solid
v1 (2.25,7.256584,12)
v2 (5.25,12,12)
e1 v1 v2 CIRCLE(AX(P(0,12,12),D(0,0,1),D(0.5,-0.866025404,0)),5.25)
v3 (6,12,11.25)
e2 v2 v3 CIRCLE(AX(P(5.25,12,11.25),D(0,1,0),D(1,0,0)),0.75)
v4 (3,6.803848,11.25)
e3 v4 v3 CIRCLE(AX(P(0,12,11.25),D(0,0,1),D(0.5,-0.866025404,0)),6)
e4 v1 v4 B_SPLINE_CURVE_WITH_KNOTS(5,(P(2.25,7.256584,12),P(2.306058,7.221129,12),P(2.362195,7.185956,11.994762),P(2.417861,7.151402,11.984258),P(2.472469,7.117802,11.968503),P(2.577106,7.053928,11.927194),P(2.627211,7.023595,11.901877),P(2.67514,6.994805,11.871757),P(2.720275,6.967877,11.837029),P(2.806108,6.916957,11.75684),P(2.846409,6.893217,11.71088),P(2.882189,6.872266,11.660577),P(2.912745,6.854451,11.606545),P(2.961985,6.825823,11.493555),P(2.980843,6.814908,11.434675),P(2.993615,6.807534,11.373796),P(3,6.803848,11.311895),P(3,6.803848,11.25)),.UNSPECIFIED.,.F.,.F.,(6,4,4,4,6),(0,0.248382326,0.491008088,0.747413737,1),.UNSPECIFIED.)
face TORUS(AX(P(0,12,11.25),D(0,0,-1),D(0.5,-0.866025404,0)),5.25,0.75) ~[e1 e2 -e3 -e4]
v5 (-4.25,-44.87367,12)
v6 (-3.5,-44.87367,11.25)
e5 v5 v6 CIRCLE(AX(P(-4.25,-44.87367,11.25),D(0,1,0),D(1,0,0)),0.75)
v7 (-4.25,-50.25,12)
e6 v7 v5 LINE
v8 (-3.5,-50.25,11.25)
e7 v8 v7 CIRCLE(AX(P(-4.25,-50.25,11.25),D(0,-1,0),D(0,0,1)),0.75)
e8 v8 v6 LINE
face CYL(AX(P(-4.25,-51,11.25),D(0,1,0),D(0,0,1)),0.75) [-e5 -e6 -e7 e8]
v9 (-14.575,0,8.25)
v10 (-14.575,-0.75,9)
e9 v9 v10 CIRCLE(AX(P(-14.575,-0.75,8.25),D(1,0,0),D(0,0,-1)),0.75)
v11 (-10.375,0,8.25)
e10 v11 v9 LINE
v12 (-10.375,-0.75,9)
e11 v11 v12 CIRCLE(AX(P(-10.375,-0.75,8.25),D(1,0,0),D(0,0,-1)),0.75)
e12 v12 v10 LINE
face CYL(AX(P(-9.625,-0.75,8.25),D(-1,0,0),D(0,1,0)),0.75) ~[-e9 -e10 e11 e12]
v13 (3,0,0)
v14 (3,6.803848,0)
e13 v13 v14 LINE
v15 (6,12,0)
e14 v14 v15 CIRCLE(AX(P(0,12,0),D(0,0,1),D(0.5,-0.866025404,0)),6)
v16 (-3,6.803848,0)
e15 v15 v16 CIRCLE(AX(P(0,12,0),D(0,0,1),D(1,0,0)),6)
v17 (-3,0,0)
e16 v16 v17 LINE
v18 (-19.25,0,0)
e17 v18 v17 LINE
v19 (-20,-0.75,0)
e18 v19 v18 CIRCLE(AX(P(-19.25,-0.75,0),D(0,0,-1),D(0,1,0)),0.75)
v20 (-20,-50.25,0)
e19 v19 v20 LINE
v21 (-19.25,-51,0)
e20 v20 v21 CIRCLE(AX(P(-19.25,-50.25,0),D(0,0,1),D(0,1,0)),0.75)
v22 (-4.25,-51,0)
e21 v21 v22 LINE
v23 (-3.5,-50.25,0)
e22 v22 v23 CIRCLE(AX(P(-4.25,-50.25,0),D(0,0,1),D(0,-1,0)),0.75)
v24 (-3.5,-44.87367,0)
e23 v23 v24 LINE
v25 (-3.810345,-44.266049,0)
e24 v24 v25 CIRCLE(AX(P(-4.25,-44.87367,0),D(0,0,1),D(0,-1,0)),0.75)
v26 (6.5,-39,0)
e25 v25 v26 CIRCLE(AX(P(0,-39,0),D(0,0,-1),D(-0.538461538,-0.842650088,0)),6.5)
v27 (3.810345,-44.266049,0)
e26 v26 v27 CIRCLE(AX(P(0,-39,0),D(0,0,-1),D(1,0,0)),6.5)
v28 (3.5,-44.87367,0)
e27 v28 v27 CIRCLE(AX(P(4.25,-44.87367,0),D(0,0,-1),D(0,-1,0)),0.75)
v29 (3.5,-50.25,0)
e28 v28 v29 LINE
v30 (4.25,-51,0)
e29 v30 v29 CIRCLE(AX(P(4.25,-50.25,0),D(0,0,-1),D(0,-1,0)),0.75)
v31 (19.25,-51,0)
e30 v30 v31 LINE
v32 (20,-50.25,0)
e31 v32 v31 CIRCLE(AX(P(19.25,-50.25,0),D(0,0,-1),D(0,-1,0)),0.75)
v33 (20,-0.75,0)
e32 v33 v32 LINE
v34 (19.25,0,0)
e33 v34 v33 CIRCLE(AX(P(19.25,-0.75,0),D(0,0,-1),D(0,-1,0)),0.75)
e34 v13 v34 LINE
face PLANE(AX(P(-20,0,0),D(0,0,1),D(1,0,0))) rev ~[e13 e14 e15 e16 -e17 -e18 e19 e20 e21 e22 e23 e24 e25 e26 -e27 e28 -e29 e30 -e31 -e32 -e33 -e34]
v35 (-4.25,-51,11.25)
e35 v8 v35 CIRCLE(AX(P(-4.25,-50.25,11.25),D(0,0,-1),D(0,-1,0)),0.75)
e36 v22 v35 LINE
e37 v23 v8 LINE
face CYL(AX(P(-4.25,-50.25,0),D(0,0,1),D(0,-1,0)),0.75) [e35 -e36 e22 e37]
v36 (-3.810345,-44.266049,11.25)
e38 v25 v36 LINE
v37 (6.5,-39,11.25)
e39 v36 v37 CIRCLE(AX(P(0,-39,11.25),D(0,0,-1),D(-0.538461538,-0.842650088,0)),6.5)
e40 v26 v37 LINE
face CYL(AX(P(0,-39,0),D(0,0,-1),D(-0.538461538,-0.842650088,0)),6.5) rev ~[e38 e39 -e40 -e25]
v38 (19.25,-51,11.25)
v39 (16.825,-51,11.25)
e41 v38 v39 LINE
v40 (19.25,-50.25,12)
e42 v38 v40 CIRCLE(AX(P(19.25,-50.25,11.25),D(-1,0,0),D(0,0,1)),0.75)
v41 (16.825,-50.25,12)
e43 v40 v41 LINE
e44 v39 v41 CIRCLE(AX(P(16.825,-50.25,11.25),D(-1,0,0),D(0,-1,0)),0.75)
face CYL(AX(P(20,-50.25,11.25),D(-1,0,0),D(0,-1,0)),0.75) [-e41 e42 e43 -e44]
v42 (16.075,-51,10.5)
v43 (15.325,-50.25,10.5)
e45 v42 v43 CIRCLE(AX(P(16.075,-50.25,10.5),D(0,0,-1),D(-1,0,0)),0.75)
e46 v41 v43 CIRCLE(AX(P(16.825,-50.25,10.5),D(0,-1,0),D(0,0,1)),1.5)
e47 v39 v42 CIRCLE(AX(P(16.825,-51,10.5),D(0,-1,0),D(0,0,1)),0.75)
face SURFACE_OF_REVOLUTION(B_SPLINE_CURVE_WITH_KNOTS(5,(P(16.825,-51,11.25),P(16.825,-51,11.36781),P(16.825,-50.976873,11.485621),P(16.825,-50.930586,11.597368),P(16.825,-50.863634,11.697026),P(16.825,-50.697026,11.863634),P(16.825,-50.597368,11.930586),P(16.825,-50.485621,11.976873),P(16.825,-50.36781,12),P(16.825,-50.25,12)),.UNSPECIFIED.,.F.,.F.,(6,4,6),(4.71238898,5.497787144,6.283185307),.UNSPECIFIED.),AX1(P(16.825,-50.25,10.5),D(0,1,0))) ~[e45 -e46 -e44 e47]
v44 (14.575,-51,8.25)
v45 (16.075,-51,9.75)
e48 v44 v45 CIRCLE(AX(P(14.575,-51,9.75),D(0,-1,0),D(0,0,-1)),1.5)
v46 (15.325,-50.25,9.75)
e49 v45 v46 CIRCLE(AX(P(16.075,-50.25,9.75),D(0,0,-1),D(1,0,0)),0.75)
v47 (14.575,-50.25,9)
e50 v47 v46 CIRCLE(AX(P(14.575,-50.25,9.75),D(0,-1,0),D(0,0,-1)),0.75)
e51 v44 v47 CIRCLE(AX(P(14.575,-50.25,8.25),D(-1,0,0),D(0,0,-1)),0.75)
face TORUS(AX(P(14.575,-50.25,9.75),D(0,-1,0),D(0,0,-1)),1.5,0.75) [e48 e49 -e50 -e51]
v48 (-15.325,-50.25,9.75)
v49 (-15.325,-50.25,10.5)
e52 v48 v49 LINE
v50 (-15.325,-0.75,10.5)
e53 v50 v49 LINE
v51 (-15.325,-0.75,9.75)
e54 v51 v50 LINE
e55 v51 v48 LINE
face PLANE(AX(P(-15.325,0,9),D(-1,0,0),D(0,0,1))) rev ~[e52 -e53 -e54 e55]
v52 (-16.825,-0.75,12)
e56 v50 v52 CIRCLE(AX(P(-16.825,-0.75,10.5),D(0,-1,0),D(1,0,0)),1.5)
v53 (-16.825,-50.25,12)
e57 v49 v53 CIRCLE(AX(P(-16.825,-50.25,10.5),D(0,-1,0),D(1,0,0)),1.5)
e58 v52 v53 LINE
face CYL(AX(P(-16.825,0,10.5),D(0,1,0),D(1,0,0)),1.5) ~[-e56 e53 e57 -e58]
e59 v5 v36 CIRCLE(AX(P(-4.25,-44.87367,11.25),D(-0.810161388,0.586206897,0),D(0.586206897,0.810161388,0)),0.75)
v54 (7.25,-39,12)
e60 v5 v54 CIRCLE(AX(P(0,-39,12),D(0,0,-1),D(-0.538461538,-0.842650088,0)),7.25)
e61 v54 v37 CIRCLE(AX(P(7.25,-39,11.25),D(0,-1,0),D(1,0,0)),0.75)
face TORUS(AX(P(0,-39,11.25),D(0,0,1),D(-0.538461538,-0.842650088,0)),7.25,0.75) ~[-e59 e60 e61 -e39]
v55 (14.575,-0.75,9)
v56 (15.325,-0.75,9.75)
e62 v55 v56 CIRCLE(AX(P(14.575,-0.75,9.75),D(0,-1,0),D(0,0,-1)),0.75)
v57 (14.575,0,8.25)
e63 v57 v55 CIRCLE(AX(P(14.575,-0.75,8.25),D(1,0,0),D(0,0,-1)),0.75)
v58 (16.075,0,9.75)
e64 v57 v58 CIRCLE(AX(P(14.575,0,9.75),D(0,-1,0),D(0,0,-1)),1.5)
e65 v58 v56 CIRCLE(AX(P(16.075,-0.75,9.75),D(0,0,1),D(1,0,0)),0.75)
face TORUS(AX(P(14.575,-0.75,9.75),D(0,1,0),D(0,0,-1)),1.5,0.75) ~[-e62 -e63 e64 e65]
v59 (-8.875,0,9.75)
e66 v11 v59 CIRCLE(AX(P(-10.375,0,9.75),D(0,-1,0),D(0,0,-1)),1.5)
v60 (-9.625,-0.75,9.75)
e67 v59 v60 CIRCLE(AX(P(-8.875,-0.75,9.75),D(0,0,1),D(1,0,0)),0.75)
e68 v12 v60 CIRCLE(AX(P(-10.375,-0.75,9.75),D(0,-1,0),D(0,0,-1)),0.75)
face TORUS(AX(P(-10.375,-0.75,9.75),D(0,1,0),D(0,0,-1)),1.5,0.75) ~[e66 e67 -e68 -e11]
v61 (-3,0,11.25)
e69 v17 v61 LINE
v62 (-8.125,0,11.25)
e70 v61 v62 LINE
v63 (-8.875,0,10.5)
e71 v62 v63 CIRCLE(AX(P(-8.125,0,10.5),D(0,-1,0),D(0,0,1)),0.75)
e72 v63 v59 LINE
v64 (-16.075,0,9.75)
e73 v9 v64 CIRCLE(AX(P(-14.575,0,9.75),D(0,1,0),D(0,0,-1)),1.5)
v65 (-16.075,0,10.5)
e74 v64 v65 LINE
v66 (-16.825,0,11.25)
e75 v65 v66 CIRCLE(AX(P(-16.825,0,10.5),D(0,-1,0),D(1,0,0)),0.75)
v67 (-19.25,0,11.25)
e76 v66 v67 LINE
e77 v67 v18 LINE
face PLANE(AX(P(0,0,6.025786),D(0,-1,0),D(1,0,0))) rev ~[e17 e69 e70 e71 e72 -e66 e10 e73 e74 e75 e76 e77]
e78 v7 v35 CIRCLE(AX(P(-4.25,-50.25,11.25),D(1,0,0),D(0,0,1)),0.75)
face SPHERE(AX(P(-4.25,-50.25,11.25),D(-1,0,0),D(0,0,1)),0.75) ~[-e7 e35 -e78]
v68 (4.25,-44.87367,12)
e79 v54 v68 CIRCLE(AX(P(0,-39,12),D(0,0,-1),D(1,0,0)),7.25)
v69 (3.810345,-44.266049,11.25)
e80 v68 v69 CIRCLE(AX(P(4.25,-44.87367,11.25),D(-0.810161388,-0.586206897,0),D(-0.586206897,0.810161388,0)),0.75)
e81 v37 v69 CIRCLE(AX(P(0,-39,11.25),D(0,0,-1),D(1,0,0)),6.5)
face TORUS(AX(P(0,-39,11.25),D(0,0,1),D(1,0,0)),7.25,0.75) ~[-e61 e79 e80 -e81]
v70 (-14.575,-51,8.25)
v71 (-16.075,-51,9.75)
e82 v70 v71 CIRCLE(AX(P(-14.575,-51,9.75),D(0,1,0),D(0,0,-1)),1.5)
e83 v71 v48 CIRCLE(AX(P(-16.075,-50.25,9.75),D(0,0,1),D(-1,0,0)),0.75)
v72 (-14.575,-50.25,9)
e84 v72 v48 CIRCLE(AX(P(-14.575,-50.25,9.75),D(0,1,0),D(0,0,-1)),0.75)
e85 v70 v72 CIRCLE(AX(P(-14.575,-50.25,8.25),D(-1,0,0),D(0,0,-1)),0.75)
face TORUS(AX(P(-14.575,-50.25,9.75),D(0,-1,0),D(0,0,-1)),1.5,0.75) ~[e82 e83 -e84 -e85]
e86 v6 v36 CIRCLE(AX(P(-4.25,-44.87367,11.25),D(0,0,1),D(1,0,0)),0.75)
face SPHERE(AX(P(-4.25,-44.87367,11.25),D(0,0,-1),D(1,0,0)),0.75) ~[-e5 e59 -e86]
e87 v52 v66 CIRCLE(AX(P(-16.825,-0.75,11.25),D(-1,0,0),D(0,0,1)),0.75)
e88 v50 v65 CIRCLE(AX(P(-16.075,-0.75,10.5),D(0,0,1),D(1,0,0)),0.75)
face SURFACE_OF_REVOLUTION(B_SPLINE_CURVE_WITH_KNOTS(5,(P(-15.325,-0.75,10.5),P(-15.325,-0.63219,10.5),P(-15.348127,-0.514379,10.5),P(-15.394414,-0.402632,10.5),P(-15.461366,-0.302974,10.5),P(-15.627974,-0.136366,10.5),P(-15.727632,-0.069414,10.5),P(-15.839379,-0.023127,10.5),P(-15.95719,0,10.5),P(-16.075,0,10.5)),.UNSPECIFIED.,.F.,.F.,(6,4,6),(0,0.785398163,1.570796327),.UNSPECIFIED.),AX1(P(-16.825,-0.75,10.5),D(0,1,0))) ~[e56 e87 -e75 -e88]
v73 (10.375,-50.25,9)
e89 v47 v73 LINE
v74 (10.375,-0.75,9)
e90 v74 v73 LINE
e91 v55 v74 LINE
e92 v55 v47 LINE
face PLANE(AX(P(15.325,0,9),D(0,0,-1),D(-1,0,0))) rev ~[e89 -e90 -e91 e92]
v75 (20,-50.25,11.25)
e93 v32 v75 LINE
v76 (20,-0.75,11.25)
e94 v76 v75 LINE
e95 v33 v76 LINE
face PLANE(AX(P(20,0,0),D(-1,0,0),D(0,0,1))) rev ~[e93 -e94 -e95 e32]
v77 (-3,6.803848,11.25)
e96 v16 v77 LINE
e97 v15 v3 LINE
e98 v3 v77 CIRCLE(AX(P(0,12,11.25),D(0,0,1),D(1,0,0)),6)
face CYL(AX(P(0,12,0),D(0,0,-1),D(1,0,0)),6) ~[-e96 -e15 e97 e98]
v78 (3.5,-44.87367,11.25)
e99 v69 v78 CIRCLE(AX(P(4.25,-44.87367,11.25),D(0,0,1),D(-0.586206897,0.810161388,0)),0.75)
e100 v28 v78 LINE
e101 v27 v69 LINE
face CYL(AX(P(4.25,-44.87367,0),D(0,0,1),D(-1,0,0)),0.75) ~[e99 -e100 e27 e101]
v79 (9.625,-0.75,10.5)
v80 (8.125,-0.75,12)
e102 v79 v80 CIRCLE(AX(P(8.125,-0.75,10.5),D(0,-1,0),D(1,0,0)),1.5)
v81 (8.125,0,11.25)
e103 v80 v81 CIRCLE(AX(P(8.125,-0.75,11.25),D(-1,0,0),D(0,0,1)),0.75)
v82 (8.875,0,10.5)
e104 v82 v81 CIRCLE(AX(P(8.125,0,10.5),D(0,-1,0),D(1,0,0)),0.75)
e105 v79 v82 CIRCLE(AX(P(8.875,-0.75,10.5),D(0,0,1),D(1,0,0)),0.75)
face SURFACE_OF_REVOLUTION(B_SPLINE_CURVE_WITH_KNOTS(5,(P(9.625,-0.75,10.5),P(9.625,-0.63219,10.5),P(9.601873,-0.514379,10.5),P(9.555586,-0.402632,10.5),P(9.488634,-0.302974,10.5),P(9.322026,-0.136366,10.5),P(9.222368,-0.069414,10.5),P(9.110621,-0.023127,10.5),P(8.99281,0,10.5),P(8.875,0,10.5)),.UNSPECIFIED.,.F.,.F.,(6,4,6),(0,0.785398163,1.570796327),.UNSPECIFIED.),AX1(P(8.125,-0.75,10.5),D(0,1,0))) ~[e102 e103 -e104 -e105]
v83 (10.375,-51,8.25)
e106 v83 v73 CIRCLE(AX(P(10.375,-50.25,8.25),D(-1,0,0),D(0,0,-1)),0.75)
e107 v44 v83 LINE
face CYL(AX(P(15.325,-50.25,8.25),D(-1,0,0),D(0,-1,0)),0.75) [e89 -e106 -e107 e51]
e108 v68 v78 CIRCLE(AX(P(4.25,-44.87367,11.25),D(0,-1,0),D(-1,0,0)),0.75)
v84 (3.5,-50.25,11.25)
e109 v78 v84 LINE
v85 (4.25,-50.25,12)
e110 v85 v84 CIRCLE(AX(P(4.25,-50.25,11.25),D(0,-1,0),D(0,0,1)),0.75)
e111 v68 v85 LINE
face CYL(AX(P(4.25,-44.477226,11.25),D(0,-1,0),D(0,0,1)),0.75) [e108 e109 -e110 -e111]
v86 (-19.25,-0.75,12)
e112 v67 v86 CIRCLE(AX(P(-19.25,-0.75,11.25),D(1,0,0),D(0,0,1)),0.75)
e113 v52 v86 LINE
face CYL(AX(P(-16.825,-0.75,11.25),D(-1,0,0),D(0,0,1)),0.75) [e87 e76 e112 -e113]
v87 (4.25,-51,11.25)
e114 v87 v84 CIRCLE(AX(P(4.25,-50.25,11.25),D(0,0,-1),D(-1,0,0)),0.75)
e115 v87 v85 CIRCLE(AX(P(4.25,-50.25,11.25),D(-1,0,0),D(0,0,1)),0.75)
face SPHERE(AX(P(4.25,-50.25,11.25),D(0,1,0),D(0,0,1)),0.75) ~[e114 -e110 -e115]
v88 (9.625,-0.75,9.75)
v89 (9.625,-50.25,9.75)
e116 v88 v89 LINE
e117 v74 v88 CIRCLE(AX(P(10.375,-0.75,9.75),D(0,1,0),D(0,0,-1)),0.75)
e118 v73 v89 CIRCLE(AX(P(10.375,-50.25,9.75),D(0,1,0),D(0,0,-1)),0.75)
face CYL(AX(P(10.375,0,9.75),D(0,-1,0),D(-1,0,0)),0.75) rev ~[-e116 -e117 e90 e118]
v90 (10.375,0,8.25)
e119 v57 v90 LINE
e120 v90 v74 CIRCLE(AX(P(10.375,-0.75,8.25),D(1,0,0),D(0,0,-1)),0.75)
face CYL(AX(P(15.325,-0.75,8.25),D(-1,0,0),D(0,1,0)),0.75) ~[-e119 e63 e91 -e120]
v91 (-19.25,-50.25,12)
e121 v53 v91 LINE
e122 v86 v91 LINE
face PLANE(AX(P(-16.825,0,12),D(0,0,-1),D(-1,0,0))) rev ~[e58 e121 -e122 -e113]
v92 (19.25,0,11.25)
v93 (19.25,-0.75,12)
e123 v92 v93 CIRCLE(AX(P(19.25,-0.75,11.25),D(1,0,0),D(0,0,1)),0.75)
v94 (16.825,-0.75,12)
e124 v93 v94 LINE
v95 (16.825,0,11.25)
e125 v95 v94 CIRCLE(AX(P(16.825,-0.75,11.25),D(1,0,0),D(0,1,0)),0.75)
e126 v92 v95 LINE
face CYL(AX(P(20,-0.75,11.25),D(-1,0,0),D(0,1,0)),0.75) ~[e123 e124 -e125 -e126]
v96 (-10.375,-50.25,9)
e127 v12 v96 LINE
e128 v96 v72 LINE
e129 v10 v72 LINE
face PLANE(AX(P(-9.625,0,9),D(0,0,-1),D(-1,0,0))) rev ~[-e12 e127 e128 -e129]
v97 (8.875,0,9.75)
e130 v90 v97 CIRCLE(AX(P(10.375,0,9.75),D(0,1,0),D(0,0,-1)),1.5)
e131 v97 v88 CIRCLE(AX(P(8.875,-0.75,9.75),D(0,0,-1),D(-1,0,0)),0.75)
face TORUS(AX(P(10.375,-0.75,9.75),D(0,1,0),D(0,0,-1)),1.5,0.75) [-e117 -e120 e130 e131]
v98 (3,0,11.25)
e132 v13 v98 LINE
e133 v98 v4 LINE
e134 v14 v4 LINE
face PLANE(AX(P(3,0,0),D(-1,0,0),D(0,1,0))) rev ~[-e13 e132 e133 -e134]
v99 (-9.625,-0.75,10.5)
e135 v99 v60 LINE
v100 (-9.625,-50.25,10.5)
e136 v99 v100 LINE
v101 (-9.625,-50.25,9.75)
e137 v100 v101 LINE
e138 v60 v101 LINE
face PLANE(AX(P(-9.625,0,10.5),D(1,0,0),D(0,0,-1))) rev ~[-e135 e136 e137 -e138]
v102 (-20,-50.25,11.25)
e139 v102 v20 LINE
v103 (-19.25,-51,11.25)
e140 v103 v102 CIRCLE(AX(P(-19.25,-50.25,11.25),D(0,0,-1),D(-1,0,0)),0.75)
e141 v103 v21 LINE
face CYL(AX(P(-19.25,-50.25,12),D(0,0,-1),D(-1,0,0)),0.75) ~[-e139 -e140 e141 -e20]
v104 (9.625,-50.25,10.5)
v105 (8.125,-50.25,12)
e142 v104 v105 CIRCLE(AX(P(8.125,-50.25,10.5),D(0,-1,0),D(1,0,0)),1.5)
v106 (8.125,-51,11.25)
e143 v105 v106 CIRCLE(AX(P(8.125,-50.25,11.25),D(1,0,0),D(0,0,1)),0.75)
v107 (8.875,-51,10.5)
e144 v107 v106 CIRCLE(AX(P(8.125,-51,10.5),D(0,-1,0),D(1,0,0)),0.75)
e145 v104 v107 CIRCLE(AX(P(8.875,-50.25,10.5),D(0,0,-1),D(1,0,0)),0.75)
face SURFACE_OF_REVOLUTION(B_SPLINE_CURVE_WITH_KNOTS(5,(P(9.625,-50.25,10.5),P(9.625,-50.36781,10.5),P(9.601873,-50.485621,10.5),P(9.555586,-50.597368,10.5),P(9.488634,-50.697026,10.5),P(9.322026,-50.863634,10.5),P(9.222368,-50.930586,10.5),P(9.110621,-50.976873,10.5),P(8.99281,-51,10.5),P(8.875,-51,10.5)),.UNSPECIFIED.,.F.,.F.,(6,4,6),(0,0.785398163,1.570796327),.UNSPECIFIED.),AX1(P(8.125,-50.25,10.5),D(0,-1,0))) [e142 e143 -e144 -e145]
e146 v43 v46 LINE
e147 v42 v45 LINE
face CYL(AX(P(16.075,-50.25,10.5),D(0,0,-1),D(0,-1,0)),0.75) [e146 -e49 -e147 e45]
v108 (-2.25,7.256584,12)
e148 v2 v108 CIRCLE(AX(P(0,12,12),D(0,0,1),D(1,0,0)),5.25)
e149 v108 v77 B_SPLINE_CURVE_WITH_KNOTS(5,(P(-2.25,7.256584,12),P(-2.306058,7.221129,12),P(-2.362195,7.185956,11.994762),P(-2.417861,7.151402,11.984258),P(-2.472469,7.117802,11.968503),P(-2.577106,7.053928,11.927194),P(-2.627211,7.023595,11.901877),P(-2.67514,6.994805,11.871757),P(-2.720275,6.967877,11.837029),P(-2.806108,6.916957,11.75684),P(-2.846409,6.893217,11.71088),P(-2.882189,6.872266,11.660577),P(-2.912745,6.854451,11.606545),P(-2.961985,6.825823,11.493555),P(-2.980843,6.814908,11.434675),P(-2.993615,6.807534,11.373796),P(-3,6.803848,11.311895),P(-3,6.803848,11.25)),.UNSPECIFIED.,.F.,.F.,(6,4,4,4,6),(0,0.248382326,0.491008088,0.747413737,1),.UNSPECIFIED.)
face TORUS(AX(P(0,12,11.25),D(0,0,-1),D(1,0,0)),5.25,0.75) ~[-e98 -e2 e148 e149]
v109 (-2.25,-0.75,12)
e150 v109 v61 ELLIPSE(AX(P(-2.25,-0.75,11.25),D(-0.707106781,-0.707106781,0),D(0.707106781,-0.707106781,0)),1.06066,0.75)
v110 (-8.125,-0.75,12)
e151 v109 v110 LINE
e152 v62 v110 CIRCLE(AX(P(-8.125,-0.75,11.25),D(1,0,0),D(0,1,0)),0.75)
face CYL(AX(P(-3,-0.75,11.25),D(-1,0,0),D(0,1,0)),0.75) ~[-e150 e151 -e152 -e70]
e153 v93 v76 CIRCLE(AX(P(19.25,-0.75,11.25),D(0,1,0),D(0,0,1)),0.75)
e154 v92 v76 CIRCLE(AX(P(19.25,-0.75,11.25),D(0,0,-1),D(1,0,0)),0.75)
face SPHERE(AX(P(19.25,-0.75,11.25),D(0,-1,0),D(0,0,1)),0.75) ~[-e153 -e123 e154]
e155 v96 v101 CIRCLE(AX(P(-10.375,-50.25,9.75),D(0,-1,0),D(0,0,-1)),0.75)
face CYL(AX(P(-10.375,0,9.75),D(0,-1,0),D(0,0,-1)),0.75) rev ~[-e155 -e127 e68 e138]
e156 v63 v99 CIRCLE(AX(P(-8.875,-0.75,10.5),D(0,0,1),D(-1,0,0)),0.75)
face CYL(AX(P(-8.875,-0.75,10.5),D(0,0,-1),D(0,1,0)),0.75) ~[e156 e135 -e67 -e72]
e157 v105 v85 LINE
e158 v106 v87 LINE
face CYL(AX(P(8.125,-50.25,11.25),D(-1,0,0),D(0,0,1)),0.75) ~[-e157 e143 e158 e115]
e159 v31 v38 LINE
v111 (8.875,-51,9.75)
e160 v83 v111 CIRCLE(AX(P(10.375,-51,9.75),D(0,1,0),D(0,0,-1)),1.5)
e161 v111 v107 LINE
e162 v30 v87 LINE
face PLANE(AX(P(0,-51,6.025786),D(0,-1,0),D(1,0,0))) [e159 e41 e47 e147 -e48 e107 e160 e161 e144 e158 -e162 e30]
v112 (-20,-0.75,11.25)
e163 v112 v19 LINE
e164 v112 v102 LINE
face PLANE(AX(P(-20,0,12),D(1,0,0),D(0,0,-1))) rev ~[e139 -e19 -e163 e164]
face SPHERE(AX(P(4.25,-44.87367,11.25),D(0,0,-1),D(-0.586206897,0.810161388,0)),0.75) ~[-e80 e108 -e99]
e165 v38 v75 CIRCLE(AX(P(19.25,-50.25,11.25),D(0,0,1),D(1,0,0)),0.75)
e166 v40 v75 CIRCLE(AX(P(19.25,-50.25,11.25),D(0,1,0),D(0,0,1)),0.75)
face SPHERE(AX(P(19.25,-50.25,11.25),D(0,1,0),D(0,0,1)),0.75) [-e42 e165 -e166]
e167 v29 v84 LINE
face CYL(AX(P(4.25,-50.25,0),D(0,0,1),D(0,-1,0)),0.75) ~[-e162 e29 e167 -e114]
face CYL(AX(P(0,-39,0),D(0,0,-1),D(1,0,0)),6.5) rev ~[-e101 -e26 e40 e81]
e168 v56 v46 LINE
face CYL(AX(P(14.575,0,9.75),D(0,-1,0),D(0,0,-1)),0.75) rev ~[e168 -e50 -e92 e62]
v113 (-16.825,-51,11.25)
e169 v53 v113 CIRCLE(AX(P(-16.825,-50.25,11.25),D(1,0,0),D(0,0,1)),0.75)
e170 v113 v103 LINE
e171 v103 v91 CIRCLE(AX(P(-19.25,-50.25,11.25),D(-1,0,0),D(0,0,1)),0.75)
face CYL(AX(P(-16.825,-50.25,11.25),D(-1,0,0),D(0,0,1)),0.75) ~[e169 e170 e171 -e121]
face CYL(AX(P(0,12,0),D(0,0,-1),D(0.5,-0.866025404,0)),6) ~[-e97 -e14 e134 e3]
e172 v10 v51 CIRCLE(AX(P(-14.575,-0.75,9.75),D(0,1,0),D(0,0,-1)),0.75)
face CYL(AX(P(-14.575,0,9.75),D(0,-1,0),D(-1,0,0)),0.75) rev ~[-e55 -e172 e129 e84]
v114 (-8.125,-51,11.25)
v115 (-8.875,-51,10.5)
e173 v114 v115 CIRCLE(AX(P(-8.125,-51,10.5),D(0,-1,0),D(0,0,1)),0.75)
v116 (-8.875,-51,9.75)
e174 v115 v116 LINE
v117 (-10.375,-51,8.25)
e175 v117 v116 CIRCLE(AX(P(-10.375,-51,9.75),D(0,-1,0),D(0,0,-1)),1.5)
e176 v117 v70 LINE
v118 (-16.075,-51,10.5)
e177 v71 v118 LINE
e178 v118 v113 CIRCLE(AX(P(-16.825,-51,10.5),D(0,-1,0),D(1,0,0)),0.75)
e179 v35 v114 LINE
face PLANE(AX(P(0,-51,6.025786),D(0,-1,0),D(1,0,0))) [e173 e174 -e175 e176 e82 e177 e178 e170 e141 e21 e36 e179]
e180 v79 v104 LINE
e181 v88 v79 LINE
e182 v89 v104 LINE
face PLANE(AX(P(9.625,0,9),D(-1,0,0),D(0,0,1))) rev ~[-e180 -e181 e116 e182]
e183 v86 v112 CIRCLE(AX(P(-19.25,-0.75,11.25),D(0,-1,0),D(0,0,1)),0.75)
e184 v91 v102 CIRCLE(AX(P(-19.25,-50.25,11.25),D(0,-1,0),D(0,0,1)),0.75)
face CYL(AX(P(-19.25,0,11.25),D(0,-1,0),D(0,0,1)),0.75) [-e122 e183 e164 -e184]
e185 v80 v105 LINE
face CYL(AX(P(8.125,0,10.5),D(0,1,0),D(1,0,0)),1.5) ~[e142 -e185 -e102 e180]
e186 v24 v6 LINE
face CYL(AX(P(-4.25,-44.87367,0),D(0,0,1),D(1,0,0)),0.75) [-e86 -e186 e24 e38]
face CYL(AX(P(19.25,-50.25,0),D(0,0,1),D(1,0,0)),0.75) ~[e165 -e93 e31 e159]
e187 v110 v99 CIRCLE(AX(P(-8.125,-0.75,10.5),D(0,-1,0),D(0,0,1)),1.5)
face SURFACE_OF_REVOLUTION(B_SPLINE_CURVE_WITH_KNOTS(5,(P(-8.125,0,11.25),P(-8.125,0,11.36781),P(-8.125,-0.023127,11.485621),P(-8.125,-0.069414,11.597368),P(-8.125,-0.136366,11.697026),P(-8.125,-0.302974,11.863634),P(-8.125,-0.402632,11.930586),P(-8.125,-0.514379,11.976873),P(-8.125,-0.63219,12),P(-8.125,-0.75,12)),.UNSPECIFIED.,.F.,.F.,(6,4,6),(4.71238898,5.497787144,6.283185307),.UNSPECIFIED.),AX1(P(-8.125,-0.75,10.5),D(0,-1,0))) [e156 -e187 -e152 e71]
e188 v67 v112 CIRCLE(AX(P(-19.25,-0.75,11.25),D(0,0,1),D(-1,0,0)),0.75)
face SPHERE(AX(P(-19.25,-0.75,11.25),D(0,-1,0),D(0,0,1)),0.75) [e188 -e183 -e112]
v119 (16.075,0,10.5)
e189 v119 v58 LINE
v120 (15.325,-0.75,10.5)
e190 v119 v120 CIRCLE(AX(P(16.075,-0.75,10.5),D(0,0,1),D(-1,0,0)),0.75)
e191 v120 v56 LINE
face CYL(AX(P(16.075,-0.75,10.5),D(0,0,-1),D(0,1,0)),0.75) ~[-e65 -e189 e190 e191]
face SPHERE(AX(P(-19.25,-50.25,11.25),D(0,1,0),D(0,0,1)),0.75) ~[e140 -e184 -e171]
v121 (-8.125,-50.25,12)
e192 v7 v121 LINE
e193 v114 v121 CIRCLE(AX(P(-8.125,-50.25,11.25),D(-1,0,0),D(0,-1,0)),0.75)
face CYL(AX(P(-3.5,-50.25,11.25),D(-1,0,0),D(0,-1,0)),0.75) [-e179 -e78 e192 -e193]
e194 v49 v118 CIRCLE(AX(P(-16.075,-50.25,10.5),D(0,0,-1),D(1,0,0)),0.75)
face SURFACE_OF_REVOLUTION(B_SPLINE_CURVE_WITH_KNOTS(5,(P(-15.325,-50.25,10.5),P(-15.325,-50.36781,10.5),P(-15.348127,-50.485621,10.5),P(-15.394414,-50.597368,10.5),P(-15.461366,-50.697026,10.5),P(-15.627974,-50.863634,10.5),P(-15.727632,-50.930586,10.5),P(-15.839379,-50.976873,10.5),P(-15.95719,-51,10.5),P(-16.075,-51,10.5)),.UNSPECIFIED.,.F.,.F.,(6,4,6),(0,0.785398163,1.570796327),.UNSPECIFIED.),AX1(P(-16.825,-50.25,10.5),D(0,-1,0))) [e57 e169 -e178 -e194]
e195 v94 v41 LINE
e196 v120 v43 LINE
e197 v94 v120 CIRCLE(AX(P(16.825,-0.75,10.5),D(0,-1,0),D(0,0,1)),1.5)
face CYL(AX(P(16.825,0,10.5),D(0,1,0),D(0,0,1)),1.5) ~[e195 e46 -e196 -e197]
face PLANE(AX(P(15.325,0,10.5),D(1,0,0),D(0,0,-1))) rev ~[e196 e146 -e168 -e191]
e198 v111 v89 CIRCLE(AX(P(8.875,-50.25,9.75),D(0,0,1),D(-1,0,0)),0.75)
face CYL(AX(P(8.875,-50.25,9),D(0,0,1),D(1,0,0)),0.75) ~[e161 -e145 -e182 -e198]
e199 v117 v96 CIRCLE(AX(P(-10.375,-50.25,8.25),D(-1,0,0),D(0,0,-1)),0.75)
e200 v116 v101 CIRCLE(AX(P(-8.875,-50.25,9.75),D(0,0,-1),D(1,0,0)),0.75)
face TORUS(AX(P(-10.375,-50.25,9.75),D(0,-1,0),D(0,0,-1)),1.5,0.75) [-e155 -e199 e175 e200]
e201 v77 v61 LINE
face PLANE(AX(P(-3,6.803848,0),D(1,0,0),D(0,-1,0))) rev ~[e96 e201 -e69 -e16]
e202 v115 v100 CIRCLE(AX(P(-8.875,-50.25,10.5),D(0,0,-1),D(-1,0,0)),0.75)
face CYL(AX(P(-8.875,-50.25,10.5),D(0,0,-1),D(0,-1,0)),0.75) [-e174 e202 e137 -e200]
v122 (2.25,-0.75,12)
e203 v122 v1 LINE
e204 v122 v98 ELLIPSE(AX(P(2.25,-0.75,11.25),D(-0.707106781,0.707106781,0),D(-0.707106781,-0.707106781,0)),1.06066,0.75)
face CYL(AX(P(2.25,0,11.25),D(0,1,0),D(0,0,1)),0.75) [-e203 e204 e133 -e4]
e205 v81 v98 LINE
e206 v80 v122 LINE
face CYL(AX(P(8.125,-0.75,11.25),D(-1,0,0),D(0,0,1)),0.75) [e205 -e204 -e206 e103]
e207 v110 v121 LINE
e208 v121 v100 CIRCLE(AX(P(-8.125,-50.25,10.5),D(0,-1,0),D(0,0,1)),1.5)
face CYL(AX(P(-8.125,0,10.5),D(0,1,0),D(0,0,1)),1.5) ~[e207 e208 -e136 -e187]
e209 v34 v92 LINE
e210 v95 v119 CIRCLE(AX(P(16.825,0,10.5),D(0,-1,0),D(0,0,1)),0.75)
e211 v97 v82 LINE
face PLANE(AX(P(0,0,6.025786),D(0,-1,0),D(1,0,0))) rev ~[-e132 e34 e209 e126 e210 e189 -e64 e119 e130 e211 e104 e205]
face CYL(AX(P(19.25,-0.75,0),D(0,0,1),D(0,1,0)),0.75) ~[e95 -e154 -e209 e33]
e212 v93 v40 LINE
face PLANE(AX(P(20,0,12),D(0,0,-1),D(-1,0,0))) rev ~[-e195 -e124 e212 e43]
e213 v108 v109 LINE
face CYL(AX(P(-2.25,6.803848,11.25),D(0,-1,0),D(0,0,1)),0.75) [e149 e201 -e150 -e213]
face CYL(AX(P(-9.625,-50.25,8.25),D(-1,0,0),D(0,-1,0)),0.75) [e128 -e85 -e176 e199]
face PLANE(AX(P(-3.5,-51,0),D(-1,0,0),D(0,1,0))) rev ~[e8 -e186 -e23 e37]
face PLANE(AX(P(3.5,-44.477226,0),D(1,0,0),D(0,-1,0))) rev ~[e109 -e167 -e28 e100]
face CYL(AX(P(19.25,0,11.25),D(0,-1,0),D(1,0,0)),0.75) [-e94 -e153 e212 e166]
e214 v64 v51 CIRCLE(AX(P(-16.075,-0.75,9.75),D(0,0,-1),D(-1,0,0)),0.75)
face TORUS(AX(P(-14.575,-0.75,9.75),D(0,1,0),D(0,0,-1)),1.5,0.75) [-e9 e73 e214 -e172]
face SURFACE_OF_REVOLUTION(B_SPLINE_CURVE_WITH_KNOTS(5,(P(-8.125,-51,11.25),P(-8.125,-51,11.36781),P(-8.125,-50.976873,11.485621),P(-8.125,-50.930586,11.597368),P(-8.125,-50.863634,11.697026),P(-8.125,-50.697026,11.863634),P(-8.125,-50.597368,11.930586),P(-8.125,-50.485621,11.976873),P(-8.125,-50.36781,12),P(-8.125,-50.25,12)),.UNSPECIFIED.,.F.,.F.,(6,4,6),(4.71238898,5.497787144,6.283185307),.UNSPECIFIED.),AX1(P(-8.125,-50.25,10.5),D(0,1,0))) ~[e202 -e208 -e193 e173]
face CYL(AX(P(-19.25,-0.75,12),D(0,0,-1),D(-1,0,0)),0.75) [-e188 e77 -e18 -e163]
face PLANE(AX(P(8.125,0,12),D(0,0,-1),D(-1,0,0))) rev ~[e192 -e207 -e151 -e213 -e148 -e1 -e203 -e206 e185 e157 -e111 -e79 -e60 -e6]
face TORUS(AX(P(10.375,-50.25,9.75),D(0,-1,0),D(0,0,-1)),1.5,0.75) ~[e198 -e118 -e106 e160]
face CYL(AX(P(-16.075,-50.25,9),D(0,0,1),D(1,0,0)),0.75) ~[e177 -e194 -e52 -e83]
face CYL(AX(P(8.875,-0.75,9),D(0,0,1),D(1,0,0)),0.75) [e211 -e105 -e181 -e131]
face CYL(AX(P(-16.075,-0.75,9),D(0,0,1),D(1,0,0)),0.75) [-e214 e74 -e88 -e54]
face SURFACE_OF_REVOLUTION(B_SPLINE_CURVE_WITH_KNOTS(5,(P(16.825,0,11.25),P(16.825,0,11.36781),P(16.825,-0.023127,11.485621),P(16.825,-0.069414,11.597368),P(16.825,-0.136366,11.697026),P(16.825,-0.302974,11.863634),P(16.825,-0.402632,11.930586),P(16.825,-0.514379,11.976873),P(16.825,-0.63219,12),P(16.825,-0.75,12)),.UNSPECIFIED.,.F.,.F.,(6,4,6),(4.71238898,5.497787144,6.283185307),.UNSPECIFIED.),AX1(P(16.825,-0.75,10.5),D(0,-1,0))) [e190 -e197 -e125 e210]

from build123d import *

# Parameters (mm, degrees)
F2_DEPTH = 51
F4_DEPTH = 12
F7_DEPTH = 12
F8_R     = 0.75


with BuildPart() as f2:
    # F1 (on Front) → F2 (new body)
    with BuildSketch(Plane.XZ):
        with BuildLine():
            Line((-16.825, 12), (-20, 12))
            Line((-20, 12), (-20, 0))
            Line((-20, 0), (20, 0))
            Line((20, 0), (20, 12))
            Line((20, 12), (16.825, 12))
            ThreePointArc((16.825, 12), (15.7643398282, 11.5606601718), (15.325, 10.5))
            Line((15.325, 10.5), (15.325, 9))
            Line((15.325, 9), (9.625, 9))
            Line((9.625, 9), (9.625, 10.5))
            ThreePointArc((9.625, 10.5), (9.1856601718, 11.5606601718), (8.125, 12))
            Line((8.125, 12), (-8.125, 12))
            ThreePointArc((-8.125, 12), (-9.1856601718, 11.5606601718), (-9.625, 10.5))
            Line((-9.625, 10.5), (-9.625, 9))
            Line((-9.625, 9), (-15.325, 9))
            Line((-15.325, 9), (-15.325, 10.5))
            ThreePointArc((-15.325, 10.5), (-15.7643398282, 11.5606601718), (-16.825, 12))
        make_face()
    extrude(amount=F2_DEPTH)


with BuildPart() as f4:
    # F3 (on Top) → F4 (new body)
    with BuildSketch(Plane.XY):
        with BuildLine():
            Line((-3, 0), (3, 0))
            Line((3, 0), (3, 6.8038475773))
            ThreePointArc((3, 6.8038475773), (0, 6), (-3, 6.8038475773))
            Line((-3, 6.8038475773), (-3, 0))
        make_face()
        with BuildLine():
            ThreePointArc((-3, 6.8038475773), (0, 6), (3, 6.8038475773))
            Line((3, 6.8038475773), (-3, 6.8038475773))
        make_face()
        with BuildLine():
            Line((-3, 6.8038475773), (3, 6.8038475773))
            ThreePointArc((3, 6.8038475773), (5.1961524227, 9), (6, 12))
            ThreePointArc((6, 12), (-3, 17.1961524227), (-3, 6.8038475773))
        make_face()
    extrude(amount=F4_DEPTH)

    # F5: union F2
    add(f2.part)

    # F6 (on face) → F7 (cut)
    with BuildSketch(Plane(origin=(0, 0, 0), x_dir=(1, 0, 0), z_dir=(0, 0, -1))):
        with BuildLine():
            Line((3.5, 51), (-3.5, 51))
            Line((-3.5, 51), (-3.5, 44.4772255751))
            ThreePointArc((-3.5, 44.4772255751), (0, 45.5), (3.5, 44.4772255751))
            Line((3.5, 44.4772255751), (3.5, 51))
        make_face()
        with BuildLine():
            ThreePointArc((3.5, 44.4772255751), (0, 45.5), (-3.5, 44.4772255751))
            Line((-3.5, 44.4772255751), (3.5, 44.4772255751))
        make_face()
        with BuildLine():
            Line((3.5, 44.4772255751), (-3.5, 44.4772255751))
            ThreePointArc((-3.5, 44.4772255751), (-3.1224989992, 33.2991228745), (6.5, 39))
            ThreePointArc((6.5, 39), (5.7008771255, 42.1224989992), (3.5, 44.4772255751))
        make_face()
    extrude(amount=-F7_DEPTH, mode=Mode.SUBTRACT)

    # F8
    f8_edges = [f4.edges().sort_by_distance(p)[0] for p in [
        (5.5625, 0, 12),
        (3, 3.401924, 12),
        (0, 18, 12),
        (-3, 3.401924, 12),
        (-5.5625, 0, 12),
        (-8.125, -25.5, 12),
        (-5.8125, -51, 12),
        (-3.5, -47.738613, 12),
        (0, -32.5, 12),
        (3.5, -47.738613, 12),
        (5.8125, -51, 12),
        (8.125, -25.5, 12),
        (15.325, -25.5, 9),
        (9.625, -25.5, 9),
        (12.475, 0, 9),
        (12.475, -51, 9),
        (20, -25.5, 12),
        (16.825, -25.5, 12),
        (18.4125, 0, 12),
        (18.4125, -51, 12),
        (-16.825, -25.5, 12),
        (-20, -25.5, 12),
        (-18.4125, 0, 12),
        (-18.4125, -51, 12),
        (-9.625, -25.5, 9),
        (-15.325, -25.5, 9),
        (-12.475, 0, 9),
        (-12.475, -51, 9),
        (-3.5, -44.477226, 6),
        (3.5, -44.477226, 6),
        (20, -51, 6),
        (20, 0, 6),
        (-20, 0, 6),
        (-20, -51, 6),
        (-3.5, -51, 6),
        (3.5, -51, 6),
    ]]
    fillet(f8_edges, radius=F8_R)


solid = f4.part
